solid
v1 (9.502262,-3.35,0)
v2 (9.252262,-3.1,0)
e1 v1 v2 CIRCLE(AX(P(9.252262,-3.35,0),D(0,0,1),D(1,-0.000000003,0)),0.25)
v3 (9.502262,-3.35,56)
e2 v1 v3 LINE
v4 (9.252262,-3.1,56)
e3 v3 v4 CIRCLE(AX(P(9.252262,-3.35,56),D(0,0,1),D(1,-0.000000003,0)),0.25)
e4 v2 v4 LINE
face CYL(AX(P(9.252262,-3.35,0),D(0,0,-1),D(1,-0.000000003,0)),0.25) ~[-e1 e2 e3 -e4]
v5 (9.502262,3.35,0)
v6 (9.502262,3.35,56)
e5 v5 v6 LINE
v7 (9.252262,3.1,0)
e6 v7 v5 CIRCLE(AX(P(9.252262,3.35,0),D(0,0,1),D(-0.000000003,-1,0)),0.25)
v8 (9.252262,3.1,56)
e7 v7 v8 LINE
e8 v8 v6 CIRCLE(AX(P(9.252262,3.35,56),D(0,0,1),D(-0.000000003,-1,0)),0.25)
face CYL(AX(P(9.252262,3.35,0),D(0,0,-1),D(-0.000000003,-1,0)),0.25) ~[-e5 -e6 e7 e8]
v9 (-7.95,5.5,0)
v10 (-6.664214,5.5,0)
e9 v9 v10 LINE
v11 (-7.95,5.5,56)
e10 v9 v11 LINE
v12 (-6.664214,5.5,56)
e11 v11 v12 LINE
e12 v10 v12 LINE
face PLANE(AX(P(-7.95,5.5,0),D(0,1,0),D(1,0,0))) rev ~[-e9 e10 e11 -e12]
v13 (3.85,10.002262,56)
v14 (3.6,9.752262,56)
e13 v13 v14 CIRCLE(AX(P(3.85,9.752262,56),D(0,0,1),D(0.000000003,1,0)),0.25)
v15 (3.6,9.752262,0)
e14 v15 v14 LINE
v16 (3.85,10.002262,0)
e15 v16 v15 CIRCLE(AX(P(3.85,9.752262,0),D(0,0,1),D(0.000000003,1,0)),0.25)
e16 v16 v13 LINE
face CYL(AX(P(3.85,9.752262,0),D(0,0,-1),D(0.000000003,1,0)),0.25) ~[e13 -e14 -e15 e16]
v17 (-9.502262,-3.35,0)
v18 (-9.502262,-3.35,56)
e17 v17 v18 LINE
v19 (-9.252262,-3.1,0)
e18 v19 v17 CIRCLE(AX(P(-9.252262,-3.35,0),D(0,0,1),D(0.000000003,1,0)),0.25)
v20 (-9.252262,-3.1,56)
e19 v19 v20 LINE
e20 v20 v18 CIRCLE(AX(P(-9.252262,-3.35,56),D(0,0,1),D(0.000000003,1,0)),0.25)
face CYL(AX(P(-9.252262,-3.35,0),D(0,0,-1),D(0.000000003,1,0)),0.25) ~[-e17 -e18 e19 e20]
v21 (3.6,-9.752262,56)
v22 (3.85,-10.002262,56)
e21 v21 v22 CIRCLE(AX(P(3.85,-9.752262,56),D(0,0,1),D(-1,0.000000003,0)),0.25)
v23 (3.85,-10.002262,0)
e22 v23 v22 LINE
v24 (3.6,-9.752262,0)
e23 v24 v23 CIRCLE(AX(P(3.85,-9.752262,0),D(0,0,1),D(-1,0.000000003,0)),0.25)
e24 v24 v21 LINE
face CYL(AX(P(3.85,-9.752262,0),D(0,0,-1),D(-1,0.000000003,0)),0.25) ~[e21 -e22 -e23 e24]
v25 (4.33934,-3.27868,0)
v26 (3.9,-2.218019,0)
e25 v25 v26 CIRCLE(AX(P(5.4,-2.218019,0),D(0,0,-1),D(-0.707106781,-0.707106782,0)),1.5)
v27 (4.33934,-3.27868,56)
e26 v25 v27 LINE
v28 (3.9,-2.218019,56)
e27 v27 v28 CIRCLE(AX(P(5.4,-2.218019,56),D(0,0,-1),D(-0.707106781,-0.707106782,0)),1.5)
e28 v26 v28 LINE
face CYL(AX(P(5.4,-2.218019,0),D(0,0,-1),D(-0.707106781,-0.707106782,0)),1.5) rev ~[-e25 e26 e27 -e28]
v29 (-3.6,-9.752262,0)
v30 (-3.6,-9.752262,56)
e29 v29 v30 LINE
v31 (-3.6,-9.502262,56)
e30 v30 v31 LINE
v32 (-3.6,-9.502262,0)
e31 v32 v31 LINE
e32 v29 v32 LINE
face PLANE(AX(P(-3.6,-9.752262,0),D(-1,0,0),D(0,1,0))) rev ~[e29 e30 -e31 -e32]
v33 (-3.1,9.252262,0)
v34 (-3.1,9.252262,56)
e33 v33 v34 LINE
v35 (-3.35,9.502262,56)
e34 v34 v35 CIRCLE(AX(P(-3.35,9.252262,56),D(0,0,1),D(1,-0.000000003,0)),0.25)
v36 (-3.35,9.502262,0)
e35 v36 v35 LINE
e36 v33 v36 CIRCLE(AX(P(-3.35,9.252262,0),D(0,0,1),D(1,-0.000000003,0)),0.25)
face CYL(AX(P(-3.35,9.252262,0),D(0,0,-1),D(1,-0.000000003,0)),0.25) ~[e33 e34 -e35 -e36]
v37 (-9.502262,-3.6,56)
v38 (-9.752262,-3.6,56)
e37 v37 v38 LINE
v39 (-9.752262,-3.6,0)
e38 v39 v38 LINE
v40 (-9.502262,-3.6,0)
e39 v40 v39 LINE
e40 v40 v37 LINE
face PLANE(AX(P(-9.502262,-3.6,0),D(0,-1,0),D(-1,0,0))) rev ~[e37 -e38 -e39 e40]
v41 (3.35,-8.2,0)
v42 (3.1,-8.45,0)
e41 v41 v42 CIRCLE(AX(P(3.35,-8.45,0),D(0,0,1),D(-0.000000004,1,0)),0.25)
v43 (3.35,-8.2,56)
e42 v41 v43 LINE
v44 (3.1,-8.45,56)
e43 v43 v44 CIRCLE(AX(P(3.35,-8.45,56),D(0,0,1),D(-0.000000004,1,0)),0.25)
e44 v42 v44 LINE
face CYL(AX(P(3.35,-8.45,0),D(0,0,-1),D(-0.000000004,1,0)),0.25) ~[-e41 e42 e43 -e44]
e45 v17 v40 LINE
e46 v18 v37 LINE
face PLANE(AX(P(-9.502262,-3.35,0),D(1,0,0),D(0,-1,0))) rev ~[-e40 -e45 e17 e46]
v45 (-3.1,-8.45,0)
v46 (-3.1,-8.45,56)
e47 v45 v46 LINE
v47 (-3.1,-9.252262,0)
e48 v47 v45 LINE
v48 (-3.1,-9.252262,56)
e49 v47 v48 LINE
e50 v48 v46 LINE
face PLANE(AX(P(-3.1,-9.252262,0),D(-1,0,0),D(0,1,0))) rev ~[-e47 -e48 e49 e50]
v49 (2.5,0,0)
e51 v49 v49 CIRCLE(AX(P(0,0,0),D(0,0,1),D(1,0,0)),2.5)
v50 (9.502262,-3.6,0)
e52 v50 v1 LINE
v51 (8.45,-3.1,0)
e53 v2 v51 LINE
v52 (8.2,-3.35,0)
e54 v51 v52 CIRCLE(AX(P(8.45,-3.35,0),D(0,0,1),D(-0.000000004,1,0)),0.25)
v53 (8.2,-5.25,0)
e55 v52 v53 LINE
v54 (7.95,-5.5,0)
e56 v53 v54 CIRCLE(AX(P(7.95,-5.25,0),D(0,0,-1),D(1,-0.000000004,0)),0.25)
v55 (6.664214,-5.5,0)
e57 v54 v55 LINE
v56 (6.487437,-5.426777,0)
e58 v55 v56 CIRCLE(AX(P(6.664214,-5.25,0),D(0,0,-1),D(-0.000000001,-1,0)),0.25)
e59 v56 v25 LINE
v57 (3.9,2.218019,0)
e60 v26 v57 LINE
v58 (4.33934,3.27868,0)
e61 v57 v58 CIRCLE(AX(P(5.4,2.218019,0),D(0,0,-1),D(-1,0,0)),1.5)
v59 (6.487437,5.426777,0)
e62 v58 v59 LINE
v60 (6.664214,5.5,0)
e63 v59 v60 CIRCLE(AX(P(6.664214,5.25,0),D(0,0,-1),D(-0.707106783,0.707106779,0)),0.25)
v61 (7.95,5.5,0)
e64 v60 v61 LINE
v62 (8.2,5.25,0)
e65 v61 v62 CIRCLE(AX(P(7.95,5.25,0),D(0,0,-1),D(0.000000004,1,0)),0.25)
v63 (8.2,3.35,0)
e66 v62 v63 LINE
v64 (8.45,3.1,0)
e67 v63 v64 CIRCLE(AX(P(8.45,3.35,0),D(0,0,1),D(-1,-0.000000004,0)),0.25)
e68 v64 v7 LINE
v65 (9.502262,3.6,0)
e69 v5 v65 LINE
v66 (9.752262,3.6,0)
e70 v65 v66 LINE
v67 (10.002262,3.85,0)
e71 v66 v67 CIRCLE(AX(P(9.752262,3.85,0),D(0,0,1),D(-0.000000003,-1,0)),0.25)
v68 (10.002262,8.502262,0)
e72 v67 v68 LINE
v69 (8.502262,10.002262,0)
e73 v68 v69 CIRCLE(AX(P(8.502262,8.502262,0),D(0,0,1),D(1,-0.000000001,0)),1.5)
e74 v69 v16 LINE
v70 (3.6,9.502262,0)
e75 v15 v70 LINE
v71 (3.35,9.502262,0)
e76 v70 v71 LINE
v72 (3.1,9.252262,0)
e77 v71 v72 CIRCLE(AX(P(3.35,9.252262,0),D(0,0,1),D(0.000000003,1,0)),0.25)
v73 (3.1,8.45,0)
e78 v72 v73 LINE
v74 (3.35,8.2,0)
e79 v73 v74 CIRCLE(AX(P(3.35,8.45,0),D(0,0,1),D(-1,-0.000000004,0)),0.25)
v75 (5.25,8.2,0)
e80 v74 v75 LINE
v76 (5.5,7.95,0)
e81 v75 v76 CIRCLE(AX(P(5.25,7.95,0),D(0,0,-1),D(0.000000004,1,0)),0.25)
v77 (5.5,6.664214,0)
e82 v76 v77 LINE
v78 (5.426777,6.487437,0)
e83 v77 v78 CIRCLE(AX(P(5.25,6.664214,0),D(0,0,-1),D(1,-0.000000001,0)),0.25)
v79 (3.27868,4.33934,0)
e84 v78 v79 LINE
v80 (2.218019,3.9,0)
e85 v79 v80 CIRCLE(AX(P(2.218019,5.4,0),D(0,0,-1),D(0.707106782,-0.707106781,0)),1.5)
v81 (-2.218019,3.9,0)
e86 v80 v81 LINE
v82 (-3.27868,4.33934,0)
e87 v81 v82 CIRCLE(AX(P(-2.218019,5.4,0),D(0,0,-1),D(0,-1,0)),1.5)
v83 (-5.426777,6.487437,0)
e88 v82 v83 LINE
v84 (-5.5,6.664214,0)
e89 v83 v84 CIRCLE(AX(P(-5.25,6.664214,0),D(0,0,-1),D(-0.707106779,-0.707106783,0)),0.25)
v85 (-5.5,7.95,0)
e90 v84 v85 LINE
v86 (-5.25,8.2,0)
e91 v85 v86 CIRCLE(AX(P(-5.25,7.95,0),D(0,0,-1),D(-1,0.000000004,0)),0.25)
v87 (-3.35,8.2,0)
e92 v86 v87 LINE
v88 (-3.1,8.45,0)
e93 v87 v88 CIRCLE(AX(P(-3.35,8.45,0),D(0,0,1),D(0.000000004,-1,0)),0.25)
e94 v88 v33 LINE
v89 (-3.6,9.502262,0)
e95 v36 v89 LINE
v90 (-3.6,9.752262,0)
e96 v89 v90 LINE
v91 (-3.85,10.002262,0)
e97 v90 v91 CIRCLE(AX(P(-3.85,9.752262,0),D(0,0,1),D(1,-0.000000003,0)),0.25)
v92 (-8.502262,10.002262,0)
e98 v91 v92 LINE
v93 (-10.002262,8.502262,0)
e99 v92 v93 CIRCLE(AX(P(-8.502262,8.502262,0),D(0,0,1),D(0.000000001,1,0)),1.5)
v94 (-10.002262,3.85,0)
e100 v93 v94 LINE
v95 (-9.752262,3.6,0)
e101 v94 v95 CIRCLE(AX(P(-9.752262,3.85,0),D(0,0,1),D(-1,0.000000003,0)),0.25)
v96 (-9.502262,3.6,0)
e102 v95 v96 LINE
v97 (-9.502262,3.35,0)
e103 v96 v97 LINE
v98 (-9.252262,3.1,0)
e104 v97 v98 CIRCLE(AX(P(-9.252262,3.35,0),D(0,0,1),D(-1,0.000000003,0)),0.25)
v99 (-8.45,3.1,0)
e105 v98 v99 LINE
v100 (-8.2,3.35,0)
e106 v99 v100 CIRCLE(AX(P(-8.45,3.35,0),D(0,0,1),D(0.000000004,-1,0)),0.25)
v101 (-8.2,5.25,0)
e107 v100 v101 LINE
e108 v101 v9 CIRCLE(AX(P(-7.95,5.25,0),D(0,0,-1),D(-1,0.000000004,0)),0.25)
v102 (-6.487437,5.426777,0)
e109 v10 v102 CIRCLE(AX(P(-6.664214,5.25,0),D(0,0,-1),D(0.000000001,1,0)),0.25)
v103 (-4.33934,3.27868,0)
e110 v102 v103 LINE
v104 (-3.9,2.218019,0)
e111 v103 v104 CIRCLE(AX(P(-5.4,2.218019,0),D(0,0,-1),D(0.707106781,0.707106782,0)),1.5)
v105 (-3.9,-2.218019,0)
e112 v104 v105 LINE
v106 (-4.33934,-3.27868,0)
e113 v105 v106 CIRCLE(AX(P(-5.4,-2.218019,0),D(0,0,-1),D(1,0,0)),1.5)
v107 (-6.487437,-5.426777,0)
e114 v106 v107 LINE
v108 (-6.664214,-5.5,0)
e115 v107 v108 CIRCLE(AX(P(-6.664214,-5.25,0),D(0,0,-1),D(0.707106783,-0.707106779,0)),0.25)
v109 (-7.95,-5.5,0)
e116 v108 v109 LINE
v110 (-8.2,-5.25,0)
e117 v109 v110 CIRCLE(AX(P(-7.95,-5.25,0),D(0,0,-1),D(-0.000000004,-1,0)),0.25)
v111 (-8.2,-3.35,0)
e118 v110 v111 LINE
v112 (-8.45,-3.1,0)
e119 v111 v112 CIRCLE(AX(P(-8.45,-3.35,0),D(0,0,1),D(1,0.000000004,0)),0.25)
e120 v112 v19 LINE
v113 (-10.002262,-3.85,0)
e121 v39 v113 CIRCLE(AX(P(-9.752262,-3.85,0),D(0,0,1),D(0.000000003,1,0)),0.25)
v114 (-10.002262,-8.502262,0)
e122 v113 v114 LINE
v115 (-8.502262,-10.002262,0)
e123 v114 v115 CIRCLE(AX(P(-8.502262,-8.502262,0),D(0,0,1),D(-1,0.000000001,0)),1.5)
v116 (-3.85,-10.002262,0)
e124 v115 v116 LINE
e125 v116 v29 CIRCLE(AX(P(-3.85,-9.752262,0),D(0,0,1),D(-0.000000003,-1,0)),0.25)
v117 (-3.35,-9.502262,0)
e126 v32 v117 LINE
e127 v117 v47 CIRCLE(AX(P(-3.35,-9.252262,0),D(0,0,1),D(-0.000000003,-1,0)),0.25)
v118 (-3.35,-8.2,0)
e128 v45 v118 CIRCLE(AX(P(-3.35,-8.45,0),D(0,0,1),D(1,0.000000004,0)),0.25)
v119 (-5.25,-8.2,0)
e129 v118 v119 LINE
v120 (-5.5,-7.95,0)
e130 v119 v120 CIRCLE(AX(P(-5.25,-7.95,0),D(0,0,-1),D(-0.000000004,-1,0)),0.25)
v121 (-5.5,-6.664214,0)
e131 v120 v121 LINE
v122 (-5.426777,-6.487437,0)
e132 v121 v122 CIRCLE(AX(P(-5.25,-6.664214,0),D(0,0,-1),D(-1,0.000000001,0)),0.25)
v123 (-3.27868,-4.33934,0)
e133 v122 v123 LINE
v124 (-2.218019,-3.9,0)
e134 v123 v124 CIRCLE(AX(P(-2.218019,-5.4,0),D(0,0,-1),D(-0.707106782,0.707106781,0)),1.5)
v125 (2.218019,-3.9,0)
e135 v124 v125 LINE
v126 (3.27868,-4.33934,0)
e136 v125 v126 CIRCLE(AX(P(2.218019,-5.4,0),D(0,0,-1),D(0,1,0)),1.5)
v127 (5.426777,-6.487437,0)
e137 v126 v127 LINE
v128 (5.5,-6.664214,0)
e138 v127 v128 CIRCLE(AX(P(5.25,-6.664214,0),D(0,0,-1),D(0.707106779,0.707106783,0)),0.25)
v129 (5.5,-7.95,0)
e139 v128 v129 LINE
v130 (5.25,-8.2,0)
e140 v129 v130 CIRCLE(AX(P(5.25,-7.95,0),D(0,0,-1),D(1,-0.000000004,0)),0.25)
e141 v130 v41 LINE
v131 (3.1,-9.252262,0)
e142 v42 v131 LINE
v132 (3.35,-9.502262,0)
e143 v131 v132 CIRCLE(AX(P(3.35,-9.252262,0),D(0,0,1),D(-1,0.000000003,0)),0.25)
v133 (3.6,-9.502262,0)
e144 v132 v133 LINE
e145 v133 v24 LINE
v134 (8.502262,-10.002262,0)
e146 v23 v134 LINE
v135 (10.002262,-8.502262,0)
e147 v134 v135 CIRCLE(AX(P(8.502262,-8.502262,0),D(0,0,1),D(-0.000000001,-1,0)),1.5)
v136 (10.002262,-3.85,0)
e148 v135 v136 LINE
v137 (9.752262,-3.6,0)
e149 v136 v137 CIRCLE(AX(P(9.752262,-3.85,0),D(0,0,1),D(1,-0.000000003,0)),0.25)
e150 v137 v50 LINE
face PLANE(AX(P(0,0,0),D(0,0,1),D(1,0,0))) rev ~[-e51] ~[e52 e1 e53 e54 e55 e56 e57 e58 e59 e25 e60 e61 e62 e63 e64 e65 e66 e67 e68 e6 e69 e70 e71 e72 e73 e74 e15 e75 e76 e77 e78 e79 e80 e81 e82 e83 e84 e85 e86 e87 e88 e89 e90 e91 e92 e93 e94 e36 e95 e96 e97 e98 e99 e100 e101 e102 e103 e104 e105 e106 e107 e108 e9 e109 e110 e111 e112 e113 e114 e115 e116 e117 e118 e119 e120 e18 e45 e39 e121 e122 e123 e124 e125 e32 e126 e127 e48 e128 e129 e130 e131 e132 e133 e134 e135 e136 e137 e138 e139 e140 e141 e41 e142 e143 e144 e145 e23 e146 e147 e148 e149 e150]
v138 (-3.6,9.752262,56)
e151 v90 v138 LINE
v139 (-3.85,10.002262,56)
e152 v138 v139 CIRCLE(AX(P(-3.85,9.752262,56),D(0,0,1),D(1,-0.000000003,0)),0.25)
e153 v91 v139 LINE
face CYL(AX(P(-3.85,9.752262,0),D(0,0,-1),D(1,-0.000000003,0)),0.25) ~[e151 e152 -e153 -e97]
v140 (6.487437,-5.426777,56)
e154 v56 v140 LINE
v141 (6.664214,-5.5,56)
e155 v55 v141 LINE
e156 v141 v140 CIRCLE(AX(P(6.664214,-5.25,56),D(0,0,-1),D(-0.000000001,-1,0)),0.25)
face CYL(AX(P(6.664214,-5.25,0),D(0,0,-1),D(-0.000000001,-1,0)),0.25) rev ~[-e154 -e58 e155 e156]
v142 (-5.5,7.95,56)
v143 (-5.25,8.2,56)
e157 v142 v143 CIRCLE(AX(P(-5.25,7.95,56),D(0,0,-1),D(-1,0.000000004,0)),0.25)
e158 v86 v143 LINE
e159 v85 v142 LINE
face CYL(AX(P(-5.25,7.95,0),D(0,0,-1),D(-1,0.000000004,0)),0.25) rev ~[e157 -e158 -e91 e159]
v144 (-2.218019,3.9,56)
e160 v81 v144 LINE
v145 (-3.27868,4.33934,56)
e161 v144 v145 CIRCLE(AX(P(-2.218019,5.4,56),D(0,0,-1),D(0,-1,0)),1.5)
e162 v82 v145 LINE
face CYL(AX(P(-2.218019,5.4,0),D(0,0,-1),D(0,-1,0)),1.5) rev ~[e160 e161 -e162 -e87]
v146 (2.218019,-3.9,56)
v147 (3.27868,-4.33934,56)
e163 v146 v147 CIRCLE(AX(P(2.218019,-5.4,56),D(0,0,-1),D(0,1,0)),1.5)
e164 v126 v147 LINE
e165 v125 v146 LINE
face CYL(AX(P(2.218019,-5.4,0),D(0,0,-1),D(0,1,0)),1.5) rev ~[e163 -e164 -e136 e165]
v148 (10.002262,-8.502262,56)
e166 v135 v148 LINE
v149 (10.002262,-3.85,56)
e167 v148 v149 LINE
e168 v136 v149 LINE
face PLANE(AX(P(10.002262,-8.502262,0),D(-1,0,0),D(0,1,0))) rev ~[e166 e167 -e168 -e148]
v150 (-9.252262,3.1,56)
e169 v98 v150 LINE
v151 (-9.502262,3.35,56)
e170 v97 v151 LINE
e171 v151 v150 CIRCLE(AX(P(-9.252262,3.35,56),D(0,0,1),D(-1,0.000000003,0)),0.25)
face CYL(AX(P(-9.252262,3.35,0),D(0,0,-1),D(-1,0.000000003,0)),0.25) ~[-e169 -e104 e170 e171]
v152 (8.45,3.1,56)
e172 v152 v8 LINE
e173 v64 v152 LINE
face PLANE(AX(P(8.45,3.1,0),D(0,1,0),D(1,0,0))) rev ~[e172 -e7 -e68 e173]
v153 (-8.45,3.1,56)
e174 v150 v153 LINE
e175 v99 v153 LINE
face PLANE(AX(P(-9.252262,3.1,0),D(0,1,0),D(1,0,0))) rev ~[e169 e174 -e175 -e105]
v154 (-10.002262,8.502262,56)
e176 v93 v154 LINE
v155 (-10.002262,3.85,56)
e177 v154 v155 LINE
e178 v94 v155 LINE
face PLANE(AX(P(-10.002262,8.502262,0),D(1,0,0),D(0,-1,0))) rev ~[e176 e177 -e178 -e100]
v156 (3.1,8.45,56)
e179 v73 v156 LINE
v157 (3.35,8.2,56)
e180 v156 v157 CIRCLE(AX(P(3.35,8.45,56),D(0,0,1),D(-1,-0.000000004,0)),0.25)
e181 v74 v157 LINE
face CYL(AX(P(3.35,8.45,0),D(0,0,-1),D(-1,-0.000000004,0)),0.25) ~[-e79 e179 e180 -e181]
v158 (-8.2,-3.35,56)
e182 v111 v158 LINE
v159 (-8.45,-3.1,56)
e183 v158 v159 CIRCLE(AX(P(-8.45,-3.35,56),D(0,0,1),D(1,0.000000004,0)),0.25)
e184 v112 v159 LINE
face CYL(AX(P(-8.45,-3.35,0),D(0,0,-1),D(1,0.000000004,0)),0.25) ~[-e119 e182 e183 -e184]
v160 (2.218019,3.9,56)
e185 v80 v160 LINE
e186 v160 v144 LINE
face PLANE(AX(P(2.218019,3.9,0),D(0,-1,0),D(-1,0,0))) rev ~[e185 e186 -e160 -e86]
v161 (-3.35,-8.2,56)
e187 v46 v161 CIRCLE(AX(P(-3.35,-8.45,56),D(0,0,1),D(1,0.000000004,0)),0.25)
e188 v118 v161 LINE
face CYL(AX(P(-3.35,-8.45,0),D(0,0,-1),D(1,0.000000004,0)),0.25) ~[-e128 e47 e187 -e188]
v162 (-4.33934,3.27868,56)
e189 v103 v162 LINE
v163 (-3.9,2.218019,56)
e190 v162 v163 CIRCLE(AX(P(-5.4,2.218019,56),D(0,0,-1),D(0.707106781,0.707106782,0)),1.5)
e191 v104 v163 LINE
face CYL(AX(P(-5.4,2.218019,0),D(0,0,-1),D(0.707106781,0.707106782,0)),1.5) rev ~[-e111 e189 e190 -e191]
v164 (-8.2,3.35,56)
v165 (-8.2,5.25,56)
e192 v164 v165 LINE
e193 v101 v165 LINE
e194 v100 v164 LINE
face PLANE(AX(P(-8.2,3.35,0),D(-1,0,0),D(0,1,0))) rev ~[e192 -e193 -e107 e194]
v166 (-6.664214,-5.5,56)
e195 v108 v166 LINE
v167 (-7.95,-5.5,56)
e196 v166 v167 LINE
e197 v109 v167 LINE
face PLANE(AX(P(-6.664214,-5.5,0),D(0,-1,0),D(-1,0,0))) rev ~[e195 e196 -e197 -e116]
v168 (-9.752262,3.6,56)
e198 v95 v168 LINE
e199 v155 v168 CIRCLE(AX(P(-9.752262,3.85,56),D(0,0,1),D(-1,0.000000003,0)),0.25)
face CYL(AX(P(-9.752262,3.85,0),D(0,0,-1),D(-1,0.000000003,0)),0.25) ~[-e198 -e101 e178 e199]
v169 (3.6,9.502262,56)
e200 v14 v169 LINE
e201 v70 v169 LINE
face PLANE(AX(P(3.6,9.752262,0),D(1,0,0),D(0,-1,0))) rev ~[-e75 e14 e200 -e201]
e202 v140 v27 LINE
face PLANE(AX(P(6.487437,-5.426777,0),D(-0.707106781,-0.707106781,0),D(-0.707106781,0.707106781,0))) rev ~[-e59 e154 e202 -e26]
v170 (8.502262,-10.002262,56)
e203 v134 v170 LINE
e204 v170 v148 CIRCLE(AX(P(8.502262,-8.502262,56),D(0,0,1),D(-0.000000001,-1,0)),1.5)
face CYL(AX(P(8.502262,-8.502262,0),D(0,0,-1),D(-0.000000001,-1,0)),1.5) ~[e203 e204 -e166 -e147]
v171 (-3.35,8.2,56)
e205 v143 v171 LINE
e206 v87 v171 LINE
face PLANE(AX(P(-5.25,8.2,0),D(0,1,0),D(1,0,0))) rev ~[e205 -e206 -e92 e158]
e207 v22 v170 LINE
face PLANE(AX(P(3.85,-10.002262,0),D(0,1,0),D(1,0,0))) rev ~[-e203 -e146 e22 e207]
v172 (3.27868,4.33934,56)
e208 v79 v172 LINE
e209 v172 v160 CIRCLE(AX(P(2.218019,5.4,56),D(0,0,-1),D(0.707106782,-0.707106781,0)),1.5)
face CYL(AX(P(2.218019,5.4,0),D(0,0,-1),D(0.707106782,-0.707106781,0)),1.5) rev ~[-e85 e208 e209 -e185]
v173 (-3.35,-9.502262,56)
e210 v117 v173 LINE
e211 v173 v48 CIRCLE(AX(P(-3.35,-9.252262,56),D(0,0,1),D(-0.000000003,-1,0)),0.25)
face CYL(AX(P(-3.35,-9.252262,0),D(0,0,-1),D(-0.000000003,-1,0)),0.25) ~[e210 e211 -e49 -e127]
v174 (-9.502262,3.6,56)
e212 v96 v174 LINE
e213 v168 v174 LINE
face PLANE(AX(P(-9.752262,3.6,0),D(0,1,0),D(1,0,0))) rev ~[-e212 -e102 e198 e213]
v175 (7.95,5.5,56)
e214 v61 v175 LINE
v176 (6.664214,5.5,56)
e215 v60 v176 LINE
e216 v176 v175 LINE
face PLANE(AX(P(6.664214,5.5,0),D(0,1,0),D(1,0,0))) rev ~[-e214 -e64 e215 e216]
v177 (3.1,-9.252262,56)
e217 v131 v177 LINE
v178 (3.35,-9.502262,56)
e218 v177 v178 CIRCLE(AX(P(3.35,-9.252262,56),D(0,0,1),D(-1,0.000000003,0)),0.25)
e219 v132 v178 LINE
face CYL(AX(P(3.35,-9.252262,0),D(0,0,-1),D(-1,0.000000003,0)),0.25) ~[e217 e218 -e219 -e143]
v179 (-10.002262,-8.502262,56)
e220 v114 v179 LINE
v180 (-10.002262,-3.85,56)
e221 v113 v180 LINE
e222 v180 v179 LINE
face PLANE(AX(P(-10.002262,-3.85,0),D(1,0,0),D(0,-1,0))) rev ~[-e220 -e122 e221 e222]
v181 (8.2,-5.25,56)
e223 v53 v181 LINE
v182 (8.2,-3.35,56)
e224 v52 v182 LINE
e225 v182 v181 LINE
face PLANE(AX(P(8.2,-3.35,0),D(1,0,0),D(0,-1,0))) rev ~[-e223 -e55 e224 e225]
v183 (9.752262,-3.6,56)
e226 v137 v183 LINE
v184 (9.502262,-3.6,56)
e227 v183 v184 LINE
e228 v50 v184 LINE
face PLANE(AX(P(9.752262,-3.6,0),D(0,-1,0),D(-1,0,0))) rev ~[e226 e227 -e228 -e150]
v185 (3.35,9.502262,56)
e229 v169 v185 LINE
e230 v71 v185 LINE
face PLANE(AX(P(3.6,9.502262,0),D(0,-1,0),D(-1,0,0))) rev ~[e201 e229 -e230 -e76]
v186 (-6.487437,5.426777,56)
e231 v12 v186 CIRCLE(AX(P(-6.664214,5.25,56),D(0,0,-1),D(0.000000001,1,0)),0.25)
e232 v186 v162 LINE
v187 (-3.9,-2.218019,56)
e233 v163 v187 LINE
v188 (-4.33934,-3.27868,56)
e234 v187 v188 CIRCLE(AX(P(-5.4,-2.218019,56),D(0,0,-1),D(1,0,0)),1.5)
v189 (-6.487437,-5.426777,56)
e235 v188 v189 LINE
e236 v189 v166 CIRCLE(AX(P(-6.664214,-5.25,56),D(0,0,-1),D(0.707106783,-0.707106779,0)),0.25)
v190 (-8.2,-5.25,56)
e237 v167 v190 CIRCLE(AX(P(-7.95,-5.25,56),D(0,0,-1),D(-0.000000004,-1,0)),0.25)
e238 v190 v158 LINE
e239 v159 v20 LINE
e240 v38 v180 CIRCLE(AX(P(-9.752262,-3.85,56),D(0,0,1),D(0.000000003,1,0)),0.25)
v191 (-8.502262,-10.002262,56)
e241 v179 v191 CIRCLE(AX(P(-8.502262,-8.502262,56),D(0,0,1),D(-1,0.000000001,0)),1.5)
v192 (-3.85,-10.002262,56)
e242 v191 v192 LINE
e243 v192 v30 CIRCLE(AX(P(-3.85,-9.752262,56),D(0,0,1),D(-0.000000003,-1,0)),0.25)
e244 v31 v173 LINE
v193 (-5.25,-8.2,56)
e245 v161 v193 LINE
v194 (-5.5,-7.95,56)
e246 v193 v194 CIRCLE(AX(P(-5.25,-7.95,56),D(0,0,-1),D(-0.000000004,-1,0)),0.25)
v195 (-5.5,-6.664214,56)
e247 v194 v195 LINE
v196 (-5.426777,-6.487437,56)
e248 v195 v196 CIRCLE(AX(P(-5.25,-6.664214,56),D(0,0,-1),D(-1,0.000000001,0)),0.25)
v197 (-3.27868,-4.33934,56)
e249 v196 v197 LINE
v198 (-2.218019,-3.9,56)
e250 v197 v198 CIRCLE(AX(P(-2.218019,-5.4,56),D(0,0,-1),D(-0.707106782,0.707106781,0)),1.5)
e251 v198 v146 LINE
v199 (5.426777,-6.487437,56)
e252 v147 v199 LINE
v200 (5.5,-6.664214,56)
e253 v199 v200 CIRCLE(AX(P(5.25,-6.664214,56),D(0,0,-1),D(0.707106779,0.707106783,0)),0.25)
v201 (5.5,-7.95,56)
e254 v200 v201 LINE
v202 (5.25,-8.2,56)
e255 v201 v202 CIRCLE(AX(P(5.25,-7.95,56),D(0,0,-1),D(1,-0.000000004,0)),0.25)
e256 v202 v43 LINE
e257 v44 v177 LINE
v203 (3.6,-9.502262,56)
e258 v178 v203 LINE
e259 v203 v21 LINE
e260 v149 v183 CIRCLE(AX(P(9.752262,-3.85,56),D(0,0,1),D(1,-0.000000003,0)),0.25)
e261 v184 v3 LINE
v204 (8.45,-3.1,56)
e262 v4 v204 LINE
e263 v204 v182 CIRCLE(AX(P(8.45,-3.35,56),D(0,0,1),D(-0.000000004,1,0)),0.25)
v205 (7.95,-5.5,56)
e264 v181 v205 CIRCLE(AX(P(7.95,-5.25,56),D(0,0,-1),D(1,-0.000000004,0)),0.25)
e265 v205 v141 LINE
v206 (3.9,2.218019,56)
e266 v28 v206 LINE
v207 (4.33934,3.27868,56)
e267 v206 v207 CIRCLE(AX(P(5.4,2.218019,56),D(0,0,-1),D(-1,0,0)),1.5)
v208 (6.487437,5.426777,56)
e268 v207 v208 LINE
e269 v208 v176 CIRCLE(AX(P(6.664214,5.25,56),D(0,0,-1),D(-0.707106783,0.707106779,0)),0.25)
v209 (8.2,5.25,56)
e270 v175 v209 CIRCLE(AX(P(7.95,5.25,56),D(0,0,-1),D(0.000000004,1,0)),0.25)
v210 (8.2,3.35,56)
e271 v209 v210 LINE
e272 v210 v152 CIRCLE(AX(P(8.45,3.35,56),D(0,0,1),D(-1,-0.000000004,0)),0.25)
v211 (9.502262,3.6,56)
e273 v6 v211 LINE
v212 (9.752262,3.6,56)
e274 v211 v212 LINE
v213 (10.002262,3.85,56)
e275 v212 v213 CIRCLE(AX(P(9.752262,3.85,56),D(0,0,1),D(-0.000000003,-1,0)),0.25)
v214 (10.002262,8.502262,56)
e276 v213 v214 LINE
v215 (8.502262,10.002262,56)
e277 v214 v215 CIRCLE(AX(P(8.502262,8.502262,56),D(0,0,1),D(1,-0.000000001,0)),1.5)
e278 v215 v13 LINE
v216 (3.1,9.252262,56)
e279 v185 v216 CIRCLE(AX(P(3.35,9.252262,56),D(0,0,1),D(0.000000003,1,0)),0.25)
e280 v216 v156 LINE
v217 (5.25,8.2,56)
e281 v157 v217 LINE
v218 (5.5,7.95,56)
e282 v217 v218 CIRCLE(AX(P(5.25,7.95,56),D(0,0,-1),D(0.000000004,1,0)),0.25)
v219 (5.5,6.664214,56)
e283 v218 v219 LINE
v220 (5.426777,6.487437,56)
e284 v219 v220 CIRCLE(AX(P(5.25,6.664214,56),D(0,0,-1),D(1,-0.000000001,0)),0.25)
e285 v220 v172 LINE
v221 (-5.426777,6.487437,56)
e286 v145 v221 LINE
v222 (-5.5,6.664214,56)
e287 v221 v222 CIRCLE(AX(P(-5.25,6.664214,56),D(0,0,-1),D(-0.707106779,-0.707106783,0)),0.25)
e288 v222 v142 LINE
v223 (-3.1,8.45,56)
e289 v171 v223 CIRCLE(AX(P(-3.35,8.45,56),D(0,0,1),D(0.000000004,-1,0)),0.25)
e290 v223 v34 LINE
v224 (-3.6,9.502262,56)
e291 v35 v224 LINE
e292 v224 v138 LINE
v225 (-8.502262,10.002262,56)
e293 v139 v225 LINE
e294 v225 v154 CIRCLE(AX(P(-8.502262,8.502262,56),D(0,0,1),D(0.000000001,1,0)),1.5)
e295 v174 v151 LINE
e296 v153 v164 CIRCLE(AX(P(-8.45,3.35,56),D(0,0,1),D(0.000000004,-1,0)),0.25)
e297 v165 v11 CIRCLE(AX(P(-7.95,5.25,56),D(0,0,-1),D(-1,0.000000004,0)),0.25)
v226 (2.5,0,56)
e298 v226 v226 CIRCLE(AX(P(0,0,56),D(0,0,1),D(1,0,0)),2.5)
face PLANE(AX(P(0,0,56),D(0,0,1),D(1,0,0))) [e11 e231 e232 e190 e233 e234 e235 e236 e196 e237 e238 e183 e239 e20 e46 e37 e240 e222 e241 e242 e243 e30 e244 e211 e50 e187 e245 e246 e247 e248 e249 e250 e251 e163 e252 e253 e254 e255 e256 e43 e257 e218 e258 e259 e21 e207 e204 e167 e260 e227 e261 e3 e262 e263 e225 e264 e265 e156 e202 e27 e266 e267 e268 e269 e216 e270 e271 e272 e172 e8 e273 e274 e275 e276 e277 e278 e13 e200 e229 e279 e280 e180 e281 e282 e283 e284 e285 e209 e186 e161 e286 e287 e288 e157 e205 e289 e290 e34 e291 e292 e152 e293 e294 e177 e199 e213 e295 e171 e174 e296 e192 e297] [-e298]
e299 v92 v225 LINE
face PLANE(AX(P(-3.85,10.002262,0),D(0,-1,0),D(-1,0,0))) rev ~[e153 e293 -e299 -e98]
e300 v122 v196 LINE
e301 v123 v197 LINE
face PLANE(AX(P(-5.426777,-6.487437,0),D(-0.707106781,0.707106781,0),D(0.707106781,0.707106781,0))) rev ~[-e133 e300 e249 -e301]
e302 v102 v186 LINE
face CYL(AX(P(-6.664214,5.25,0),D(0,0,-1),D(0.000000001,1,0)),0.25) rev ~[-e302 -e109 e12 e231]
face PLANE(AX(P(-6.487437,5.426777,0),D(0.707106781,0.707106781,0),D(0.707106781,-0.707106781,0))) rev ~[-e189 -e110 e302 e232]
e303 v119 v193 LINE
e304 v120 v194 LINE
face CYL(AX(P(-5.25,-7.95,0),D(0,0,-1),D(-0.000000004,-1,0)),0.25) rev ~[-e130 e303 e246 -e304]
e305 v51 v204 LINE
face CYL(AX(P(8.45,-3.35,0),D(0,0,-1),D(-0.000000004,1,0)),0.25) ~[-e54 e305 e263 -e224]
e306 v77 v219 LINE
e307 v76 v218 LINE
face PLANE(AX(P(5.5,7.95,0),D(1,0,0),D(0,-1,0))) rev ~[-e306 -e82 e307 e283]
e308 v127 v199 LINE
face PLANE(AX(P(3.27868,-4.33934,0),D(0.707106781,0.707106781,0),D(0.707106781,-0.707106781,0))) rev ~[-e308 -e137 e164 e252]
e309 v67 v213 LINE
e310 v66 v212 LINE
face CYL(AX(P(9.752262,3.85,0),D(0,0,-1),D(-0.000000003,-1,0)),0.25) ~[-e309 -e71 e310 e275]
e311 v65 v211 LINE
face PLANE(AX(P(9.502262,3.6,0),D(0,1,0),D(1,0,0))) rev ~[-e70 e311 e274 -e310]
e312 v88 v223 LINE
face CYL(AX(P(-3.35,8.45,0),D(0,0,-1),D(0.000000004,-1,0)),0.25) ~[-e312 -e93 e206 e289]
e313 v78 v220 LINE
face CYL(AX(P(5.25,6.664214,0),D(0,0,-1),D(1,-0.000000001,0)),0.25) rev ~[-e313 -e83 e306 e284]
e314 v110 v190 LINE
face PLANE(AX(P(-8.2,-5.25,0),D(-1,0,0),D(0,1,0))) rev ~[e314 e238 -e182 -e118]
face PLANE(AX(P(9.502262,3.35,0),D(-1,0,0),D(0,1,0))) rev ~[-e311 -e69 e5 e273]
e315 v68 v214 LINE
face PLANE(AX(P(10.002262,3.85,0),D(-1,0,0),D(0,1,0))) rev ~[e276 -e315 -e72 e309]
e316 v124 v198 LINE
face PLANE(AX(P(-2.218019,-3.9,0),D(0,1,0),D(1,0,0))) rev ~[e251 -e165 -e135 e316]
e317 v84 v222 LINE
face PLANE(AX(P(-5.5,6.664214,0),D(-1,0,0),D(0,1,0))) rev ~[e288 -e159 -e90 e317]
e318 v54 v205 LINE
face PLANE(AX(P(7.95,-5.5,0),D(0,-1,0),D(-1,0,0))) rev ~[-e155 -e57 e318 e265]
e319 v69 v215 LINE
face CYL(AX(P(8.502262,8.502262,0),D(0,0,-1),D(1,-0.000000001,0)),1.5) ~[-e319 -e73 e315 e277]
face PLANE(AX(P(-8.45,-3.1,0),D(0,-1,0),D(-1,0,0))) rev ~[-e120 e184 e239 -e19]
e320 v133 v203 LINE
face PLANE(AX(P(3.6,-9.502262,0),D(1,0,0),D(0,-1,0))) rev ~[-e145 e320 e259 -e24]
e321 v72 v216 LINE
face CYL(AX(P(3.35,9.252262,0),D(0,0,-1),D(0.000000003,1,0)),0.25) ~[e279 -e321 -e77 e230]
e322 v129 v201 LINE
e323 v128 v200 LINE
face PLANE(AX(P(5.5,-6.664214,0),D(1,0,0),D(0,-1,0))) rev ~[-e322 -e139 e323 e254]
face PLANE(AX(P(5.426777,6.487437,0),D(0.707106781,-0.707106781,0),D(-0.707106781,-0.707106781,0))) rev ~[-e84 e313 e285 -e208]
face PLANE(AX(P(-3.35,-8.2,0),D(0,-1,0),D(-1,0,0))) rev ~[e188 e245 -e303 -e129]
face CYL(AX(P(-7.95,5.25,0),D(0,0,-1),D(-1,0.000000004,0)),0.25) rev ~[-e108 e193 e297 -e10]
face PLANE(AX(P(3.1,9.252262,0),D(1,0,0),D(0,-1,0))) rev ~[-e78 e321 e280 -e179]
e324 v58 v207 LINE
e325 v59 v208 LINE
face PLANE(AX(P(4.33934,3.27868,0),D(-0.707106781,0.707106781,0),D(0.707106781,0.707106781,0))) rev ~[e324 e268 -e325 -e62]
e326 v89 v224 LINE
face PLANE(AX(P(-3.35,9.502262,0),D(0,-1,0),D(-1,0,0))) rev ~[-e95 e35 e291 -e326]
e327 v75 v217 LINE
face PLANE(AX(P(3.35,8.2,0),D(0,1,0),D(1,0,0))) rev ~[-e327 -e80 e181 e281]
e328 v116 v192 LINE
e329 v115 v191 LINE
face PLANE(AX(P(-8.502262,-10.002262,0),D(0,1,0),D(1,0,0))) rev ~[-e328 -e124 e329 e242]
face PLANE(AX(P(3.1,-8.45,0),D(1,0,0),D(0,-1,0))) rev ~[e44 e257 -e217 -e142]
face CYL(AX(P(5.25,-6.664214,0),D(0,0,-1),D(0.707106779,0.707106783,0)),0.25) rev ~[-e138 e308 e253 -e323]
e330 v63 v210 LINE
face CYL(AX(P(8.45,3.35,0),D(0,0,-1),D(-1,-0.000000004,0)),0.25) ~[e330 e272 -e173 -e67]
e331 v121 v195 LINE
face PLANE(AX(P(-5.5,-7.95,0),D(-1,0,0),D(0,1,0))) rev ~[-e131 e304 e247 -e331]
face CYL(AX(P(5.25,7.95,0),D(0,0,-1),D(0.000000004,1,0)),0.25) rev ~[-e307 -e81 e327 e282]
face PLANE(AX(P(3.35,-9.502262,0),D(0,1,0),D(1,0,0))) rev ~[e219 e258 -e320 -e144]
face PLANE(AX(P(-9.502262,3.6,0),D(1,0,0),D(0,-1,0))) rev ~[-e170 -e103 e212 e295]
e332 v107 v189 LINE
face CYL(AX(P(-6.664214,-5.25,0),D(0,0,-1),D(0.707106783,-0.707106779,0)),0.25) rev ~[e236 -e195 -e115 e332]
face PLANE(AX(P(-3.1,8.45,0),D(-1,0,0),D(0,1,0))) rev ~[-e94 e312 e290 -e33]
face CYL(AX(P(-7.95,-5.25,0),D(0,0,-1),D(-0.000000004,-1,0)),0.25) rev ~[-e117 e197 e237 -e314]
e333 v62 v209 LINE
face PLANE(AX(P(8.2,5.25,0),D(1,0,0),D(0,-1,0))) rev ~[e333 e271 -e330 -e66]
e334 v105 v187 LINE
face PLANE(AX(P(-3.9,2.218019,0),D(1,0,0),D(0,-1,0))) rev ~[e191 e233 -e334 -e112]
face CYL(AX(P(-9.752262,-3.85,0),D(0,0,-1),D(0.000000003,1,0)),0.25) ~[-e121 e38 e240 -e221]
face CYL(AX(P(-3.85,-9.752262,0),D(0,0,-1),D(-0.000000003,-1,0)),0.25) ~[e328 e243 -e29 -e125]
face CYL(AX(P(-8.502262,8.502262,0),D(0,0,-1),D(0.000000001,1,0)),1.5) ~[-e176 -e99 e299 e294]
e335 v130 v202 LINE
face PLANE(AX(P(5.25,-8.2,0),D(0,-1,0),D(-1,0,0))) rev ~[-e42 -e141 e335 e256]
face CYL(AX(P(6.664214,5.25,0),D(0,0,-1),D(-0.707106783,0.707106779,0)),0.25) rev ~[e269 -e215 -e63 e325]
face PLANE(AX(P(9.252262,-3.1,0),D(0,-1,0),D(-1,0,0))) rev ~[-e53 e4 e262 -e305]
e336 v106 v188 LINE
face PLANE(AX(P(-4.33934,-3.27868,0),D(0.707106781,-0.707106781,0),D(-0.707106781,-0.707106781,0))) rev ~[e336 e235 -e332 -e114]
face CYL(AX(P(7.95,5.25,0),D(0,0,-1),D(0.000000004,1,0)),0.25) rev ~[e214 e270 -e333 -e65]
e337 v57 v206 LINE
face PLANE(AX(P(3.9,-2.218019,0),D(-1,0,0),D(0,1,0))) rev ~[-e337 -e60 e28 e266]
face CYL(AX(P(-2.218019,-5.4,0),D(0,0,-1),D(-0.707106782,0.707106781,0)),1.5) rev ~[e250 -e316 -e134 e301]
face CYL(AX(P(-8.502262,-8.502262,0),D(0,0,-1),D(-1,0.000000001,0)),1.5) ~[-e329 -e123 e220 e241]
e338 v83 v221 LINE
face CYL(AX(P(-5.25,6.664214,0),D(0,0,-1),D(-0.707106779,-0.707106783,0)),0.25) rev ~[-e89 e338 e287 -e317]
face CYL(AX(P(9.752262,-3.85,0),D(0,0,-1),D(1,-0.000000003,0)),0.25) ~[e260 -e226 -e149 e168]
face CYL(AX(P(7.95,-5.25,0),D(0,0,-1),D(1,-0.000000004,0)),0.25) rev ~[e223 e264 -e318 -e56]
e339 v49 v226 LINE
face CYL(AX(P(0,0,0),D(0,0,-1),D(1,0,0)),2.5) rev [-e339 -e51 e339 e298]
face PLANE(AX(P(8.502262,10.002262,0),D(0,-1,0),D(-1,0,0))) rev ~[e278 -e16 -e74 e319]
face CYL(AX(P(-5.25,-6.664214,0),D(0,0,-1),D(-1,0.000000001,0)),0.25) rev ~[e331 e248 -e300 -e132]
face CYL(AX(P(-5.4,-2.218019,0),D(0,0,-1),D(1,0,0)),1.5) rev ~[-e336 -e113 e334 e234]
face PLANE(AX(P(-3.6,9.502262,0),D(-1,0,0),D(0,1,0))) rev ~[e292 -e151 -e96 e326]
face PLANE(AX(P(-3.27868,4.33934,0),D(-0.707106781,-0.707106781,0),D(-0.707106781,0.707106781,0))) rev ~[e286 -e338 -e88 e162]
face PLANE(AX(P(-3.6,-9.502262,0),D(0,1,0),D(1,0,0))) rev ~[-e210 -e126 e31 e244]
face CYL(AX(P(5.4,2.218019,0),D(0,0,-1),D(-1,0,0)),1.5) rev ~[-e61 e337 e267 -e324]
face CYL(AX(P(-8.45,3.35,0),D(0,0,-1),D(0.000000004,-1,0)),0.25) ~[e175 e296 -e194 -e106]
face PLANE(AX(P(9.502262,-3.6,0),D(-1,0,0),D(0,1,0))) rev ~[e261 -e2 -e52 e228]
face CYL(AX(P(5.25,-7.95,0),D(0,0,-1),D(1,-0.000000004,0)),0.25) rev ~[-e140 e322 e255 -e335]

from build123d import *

# Parameters (mm, degrees)
SKETCH_1_R      = 2.5
EXTRUDE_1_DEPTH = 56


with BuildPart() as part:
    # 草图1 → 凸台-拉伸1 (new body)
    with BuildSketch(Plane.XY):
        with BuildLine():
            Line((-8.502261885, -10.002261885), (-3.85, -10.002261885))
            ThreePointArc((-3.85, -10.002261885), (-3.673223305, -9.929038581), (-3.6, -9.752261885))
            Line((-3.6, -9.752261885), (-3.6, -9.502261885))
            Line((-3.6, -9.502261885), (-3.35, -9.502261885))
            ThreePointArc((-3.35, -9.502261885), (-3.173223305, -9.429038581), (-3.1, -9.252261885))
            Line((-3.1, -9.252261885), (-3.1, -8.45))
            ThreePointArc((-3.1, -8.45), (-3.173223305, -8.273223305), (-3.35, -8.2))
            Line((-3.35, -8.2), (-5.25, -8.2))
            ThreePointArc((-5.25, -8.2), (-5.426776695, -8.126776695), (-5.5, -7.95))
            Line((-5.5, -7.95), (-5.5, -6.664213562))
            ThreePointArc((-5.5, -6.664213562), (-5.480969883, -6.568542704), (-5.426776695, -6.487436867))
            Line((-5.426776695, -6.487436867), (-3.278679656, -4.339339828))
            ThreePointArc((-3.278679656, -4.339339828), (-2.792044633, -4.014180701), (-2.218019485, -3.9))
            Line((-2.218019485, -3.9), (2.218019485, -3.9))
            ThreePointArc((2.218019485, -3.9), (2.792044633, -4.014180701), (3.278679656, -4.339339828))
            Line((3.278679656, -4.339339828), (5.426776695, -6.487436867))
            ThreePointArc((5.426776695, -6.487436867), (5.480969883, -6.568542704), (5.5, -6.664213562))
            Line((5.5, -6.664213562), (5.5, -7.95))
            ThreePointArc((5.5, -7.95), (5.426776695, -8.126776695), (5.25, -8.2))
            Line((5.25, -8.2), (3.35, -8.2))
            ThreePointArc((3.35, -8.2), (3.173223305, -8.273223305), (3.1, -8.45))
            Line((3.1, -8.45), (3.1, -9.252261885))
            ThreePointArc((3.1, -9.252261885), (3.173223305, -9.429038581), (3.35, -9.502261885))
            Line((3.35, -9.502261885), (3.6, -9.502261885))
            Line((3.6, -9.502261885), (3.6, -9.752261885))
            ThreePointArc((3.6, -9.752261885), (3.673223305, -9.929038581), (3.85, -10.002261885))
            Line((3.85, -10.002261885), (8.502261885, -10.002261885))
            ThreePointArc((8.502261885, -10.002261885), (9.562922057, -9.562922057), (10.002261885, -8.502261885))
            Line((10.002261885, -8.502261885), (10.002261885, -3.85))
            ThreePointArc((10.002261885, -3.85), (9.929038581, -3.673223305), (9.752261885, -3.6))
            Line((9.752261885, -3.6), (9.502261885, -3.6))
            Line((9.502261885, -3.6), (9.502261885, -3.35))
            ThreePointArc((9.502261885, -3.35), (9.429038581, -3.173223305), (9.252261885, -3.1))
            Line((9.252261885, -3.1), (8.45, -3.1))
            ThreePointArc((8.45, -3.1), (8.273223305, -3.173223305), (8.2, -3.35))
            Line((8.2, -3.35), (8.2, -5.25))
            ThreePointArc((8.2, -5.25), (8.126776695, -5.426776695), (7.95, -5.5))
            Line((7.95, -5.5), (6.664213562, -5.5))
            ThreePointArc((6.664213562, -5.5), (6.568542704, -5.480969883), (6.487436867, -5.426776695))
            Line((6.487436867, -5.426776695), (4.339339828, -3.278679656))
            ThreePointArc((4.339339828, -3.278679656), (4.014180701, -2.792044633), (3.9, -2.218019485))
            Line((3.9, -2.218019485), (3.9, 2.218019485))
            ThreePointArc((3.9, 2.218019485), (4.014180701, 2.792044633), (4.339339828, 3.278679656))
            Line((4.339339828, 3.278679656), (6.487436867, 5.426776695))
            ThreePointArc((6.487436867, 5.426776695), (6.568542704, 5.480969883), (6.664213562, 5.5))
            Line((6.664213562, 5.5), (7.95, 5.5))
            ThreePointArc((7.95, 5.5), (8.126776695, 5.426776695), (8.2, 5.25))
            Line((8.2, 5.25), (8.2, 3.35))
            ThreePointArc((8.2, 3.35), (8.273223305, 3.173223305), (8.45, 3.1))
            Line((8.45, 3.1), (9.252261885, 3.1))
            ThreePointArc((9.252261885, 3.1), (9.429038581, 3.173223305), (9.502261885, 3.35))
            Line((9.502261885, 3.35), (9.502261885, 3.6))
            Line((9.502261885, 3.6), (9.752261885, 3.6))
            ThreePointArc((9.752261885, 3.6), (9.929038581, 3.673223305), (10.002261885, 3.85))
            Line((10.002261885, 3.85), (10.002261885, 8.502261885))
            ThreePointArc((10.002261885, 8.502261885), (9.562922057, 9.562922057), (8.502261885, 10.002261885))
            Line((8.502261885, 10.002261885), (3.85, 10.002261885))
            ThreePointArc((3.85, 10.002261885), (3.673223305, 9.929038581), (3.6, 9.752261885))
            Line((3.6, 9.752261885), (3.6, 9.502261885))
            Line((3.6, 9.502261885), (3.35, 9.502261885))
            ThreePointArc((3.35, 9.502261885), (3.173223305, 9.429038581), (3.1, 9.252261885))
            Line((3.1, 9.252261885), (3.1, 8.45))
            ThreePointArc((3.1, 8.45), (3.173223305, 8.273223305), (3.35, 8.2))
            Line((3.35, 8.2), (5.25, 8.2))
            ThreePointArc((5.25, 8.2), (5.426776695, 8.126776695), (5.5, 7.95))
            Line((5.5, 7.95), (5.5, 6.664213562))
            ThreePointArc((5.5, 6.664213562), (5.480969883, 6.568542704), (5.426776695, 6.487436867))
            Line((5.426776695, 6.487436867), (3.278679656, 4.339339828))
            ThreePointArc((3.278679656, 4.339339828), (2.792044633, 4.014180701), (2.218019485, 3.9))
            Line((2.218019485, 3.9), (-2.218019485, 3.9))
            ThreePointArc((-2.218019485, 3.9), (-2.792044633, 4.014180701), (-3.278679656, 4.339339828))
            Line((-3.278679656, 4.339339828), (-5.426776695, 6.487436867))
            ThreePointArc((-5.426776695, 6.487436867), (-5.480969883, 6.568542704), (-5.5, 6.664213562))
            Line((-5.5, 6.664213562), (-5.5, 7.95))
            ThreePointArc((-5.5, 7.95), (-5.426776695, 8.126776695), (-5.25, 8.2))
            Line((-5.25, 8.2), (-3.35, 8.2))
            ThreePointArc((-3.35, 8.2), (-3.173223305, 8.273223305), (-3.1, 8.45))
            Line((-3.1, 8.45), (-3.1, 9.252261885))
            ThreePointArc((-3.1, 9.252261885), (-3.173223305, 9.429038581), (-3.35, 9.502261885))
            Line((-3.35, 9.502261885), (-3.6, 9.502261885))
            Line((-3.6, 9.502261885), (-3.6, 9.752261885))
            ThreePointArc((-3.6, 9.752261885), (-3.673223305, 9.929038581), (-3.85, 10.002261885))
            Line((-3.85, 10.002261885), (-8.502261885, 10.002261885))
            ThreePointArc((-8.502261885, 10.002261885), (-9.562922057, 9.562922057), (-10.002261885, 8.502261885))
            Line((-10.002261885, 8.502261885), (-10.002261885, 3.85))
            ThreePointArc((-10.002261885, 3.85), (-9.929038581, 3.673223305), (-9.752261885, 3.6))
            Line((-9.752261885, 3.6), (-9.502261885, 3.6))
            Line((-9.502261885, 3.6), (-9.502261885, 3.35))
            ThreePointArc((-9.502261885, 3.35), (-9.429038581, 3.173223305), (-9.252261885, 3.1))
            Line((-9.252261885, 3.1), (-8.45, 3.1))
            ThreePointArc((-8.45, 3.1), (-8.273223305, 3.173223305), (-8.2, 3.35))
            Line((-8.2, 3.35), (-8.2, 5.25))
            ThreePointArc((-8.2, 5.25), (-8.126776695, 5.426776695), (-7.95, 5.5))
            Line((-7.95, 5.5), (-6.664213562, 5.5))
            ThreePointArc((-6.664213562, 5.5), (-6.568542704, 5.480969883), (-6.487436867, 5.426776695))
            Line((-6.487436867, 5.426776695), (-4.339339828, 3.278679656))
            ThreePointArc((-4.339339828, 3.278679656), (-4.014180701, 2.792044633), (-3.9, 2.218019485))
            Line((-3.9, 2.218019485), (-3.9, -2.218019485))
            ThreePointArc((-3.9, -2.218019485), (-4.014180701, -2.792044633), (-4.339339828, -3.278679656))
            Line((-4.339339828, -3.278679656), (-6.487436867, -5.426776695))
            ThreePointArc((-6.487436867, -5.426776695), (-6.568542704, -5.480969883), (-6.664213562, -5.5))
            Line((-6.664213562, -5.5), (-7.95, -5.5))
            ThreePointArc((-7.95, -5.5), (-8.126776695, -5.426776695), (-8.2, -5.25))
            Line((-8.2, -5.25), (-8.2, -3.35))
            ThreePointArc((-8.2, -3.35), (-8.273223305, -3.173223305), (-8.45, -3.1))
            Line((-8.45, -3.1), (-9.252261885, -3.1))
            ThreePointArc((-9.252261885, -3.1), (-9.429038581, -3.173223305), (-9.502261885, -3.35))
            Line((-9.502261885, -3.35), (-9.502261885, -3.6))
            Line((-9.502261885, -3.6), (-9.752261885, -3.6))
            ThreePointArc((-9.752261885, -3.6), (-9.929038581, -3.673223305), (-10.002261885, -3.85))
            Line((-10.002261885, -3.85), (-10.002261885, -8.502261885))
            ThreePointArc((-10.002261885, -8.502261885), (-9.562922057, -9.562922057), (-8.502261885, -10.002261885))
        make_face()
        Circle(SKETCH_1_R, mode=Mode.SUBTRACT)
    extrude(amount=EXTRUDE_1_DEPTH)


solid = part.part
